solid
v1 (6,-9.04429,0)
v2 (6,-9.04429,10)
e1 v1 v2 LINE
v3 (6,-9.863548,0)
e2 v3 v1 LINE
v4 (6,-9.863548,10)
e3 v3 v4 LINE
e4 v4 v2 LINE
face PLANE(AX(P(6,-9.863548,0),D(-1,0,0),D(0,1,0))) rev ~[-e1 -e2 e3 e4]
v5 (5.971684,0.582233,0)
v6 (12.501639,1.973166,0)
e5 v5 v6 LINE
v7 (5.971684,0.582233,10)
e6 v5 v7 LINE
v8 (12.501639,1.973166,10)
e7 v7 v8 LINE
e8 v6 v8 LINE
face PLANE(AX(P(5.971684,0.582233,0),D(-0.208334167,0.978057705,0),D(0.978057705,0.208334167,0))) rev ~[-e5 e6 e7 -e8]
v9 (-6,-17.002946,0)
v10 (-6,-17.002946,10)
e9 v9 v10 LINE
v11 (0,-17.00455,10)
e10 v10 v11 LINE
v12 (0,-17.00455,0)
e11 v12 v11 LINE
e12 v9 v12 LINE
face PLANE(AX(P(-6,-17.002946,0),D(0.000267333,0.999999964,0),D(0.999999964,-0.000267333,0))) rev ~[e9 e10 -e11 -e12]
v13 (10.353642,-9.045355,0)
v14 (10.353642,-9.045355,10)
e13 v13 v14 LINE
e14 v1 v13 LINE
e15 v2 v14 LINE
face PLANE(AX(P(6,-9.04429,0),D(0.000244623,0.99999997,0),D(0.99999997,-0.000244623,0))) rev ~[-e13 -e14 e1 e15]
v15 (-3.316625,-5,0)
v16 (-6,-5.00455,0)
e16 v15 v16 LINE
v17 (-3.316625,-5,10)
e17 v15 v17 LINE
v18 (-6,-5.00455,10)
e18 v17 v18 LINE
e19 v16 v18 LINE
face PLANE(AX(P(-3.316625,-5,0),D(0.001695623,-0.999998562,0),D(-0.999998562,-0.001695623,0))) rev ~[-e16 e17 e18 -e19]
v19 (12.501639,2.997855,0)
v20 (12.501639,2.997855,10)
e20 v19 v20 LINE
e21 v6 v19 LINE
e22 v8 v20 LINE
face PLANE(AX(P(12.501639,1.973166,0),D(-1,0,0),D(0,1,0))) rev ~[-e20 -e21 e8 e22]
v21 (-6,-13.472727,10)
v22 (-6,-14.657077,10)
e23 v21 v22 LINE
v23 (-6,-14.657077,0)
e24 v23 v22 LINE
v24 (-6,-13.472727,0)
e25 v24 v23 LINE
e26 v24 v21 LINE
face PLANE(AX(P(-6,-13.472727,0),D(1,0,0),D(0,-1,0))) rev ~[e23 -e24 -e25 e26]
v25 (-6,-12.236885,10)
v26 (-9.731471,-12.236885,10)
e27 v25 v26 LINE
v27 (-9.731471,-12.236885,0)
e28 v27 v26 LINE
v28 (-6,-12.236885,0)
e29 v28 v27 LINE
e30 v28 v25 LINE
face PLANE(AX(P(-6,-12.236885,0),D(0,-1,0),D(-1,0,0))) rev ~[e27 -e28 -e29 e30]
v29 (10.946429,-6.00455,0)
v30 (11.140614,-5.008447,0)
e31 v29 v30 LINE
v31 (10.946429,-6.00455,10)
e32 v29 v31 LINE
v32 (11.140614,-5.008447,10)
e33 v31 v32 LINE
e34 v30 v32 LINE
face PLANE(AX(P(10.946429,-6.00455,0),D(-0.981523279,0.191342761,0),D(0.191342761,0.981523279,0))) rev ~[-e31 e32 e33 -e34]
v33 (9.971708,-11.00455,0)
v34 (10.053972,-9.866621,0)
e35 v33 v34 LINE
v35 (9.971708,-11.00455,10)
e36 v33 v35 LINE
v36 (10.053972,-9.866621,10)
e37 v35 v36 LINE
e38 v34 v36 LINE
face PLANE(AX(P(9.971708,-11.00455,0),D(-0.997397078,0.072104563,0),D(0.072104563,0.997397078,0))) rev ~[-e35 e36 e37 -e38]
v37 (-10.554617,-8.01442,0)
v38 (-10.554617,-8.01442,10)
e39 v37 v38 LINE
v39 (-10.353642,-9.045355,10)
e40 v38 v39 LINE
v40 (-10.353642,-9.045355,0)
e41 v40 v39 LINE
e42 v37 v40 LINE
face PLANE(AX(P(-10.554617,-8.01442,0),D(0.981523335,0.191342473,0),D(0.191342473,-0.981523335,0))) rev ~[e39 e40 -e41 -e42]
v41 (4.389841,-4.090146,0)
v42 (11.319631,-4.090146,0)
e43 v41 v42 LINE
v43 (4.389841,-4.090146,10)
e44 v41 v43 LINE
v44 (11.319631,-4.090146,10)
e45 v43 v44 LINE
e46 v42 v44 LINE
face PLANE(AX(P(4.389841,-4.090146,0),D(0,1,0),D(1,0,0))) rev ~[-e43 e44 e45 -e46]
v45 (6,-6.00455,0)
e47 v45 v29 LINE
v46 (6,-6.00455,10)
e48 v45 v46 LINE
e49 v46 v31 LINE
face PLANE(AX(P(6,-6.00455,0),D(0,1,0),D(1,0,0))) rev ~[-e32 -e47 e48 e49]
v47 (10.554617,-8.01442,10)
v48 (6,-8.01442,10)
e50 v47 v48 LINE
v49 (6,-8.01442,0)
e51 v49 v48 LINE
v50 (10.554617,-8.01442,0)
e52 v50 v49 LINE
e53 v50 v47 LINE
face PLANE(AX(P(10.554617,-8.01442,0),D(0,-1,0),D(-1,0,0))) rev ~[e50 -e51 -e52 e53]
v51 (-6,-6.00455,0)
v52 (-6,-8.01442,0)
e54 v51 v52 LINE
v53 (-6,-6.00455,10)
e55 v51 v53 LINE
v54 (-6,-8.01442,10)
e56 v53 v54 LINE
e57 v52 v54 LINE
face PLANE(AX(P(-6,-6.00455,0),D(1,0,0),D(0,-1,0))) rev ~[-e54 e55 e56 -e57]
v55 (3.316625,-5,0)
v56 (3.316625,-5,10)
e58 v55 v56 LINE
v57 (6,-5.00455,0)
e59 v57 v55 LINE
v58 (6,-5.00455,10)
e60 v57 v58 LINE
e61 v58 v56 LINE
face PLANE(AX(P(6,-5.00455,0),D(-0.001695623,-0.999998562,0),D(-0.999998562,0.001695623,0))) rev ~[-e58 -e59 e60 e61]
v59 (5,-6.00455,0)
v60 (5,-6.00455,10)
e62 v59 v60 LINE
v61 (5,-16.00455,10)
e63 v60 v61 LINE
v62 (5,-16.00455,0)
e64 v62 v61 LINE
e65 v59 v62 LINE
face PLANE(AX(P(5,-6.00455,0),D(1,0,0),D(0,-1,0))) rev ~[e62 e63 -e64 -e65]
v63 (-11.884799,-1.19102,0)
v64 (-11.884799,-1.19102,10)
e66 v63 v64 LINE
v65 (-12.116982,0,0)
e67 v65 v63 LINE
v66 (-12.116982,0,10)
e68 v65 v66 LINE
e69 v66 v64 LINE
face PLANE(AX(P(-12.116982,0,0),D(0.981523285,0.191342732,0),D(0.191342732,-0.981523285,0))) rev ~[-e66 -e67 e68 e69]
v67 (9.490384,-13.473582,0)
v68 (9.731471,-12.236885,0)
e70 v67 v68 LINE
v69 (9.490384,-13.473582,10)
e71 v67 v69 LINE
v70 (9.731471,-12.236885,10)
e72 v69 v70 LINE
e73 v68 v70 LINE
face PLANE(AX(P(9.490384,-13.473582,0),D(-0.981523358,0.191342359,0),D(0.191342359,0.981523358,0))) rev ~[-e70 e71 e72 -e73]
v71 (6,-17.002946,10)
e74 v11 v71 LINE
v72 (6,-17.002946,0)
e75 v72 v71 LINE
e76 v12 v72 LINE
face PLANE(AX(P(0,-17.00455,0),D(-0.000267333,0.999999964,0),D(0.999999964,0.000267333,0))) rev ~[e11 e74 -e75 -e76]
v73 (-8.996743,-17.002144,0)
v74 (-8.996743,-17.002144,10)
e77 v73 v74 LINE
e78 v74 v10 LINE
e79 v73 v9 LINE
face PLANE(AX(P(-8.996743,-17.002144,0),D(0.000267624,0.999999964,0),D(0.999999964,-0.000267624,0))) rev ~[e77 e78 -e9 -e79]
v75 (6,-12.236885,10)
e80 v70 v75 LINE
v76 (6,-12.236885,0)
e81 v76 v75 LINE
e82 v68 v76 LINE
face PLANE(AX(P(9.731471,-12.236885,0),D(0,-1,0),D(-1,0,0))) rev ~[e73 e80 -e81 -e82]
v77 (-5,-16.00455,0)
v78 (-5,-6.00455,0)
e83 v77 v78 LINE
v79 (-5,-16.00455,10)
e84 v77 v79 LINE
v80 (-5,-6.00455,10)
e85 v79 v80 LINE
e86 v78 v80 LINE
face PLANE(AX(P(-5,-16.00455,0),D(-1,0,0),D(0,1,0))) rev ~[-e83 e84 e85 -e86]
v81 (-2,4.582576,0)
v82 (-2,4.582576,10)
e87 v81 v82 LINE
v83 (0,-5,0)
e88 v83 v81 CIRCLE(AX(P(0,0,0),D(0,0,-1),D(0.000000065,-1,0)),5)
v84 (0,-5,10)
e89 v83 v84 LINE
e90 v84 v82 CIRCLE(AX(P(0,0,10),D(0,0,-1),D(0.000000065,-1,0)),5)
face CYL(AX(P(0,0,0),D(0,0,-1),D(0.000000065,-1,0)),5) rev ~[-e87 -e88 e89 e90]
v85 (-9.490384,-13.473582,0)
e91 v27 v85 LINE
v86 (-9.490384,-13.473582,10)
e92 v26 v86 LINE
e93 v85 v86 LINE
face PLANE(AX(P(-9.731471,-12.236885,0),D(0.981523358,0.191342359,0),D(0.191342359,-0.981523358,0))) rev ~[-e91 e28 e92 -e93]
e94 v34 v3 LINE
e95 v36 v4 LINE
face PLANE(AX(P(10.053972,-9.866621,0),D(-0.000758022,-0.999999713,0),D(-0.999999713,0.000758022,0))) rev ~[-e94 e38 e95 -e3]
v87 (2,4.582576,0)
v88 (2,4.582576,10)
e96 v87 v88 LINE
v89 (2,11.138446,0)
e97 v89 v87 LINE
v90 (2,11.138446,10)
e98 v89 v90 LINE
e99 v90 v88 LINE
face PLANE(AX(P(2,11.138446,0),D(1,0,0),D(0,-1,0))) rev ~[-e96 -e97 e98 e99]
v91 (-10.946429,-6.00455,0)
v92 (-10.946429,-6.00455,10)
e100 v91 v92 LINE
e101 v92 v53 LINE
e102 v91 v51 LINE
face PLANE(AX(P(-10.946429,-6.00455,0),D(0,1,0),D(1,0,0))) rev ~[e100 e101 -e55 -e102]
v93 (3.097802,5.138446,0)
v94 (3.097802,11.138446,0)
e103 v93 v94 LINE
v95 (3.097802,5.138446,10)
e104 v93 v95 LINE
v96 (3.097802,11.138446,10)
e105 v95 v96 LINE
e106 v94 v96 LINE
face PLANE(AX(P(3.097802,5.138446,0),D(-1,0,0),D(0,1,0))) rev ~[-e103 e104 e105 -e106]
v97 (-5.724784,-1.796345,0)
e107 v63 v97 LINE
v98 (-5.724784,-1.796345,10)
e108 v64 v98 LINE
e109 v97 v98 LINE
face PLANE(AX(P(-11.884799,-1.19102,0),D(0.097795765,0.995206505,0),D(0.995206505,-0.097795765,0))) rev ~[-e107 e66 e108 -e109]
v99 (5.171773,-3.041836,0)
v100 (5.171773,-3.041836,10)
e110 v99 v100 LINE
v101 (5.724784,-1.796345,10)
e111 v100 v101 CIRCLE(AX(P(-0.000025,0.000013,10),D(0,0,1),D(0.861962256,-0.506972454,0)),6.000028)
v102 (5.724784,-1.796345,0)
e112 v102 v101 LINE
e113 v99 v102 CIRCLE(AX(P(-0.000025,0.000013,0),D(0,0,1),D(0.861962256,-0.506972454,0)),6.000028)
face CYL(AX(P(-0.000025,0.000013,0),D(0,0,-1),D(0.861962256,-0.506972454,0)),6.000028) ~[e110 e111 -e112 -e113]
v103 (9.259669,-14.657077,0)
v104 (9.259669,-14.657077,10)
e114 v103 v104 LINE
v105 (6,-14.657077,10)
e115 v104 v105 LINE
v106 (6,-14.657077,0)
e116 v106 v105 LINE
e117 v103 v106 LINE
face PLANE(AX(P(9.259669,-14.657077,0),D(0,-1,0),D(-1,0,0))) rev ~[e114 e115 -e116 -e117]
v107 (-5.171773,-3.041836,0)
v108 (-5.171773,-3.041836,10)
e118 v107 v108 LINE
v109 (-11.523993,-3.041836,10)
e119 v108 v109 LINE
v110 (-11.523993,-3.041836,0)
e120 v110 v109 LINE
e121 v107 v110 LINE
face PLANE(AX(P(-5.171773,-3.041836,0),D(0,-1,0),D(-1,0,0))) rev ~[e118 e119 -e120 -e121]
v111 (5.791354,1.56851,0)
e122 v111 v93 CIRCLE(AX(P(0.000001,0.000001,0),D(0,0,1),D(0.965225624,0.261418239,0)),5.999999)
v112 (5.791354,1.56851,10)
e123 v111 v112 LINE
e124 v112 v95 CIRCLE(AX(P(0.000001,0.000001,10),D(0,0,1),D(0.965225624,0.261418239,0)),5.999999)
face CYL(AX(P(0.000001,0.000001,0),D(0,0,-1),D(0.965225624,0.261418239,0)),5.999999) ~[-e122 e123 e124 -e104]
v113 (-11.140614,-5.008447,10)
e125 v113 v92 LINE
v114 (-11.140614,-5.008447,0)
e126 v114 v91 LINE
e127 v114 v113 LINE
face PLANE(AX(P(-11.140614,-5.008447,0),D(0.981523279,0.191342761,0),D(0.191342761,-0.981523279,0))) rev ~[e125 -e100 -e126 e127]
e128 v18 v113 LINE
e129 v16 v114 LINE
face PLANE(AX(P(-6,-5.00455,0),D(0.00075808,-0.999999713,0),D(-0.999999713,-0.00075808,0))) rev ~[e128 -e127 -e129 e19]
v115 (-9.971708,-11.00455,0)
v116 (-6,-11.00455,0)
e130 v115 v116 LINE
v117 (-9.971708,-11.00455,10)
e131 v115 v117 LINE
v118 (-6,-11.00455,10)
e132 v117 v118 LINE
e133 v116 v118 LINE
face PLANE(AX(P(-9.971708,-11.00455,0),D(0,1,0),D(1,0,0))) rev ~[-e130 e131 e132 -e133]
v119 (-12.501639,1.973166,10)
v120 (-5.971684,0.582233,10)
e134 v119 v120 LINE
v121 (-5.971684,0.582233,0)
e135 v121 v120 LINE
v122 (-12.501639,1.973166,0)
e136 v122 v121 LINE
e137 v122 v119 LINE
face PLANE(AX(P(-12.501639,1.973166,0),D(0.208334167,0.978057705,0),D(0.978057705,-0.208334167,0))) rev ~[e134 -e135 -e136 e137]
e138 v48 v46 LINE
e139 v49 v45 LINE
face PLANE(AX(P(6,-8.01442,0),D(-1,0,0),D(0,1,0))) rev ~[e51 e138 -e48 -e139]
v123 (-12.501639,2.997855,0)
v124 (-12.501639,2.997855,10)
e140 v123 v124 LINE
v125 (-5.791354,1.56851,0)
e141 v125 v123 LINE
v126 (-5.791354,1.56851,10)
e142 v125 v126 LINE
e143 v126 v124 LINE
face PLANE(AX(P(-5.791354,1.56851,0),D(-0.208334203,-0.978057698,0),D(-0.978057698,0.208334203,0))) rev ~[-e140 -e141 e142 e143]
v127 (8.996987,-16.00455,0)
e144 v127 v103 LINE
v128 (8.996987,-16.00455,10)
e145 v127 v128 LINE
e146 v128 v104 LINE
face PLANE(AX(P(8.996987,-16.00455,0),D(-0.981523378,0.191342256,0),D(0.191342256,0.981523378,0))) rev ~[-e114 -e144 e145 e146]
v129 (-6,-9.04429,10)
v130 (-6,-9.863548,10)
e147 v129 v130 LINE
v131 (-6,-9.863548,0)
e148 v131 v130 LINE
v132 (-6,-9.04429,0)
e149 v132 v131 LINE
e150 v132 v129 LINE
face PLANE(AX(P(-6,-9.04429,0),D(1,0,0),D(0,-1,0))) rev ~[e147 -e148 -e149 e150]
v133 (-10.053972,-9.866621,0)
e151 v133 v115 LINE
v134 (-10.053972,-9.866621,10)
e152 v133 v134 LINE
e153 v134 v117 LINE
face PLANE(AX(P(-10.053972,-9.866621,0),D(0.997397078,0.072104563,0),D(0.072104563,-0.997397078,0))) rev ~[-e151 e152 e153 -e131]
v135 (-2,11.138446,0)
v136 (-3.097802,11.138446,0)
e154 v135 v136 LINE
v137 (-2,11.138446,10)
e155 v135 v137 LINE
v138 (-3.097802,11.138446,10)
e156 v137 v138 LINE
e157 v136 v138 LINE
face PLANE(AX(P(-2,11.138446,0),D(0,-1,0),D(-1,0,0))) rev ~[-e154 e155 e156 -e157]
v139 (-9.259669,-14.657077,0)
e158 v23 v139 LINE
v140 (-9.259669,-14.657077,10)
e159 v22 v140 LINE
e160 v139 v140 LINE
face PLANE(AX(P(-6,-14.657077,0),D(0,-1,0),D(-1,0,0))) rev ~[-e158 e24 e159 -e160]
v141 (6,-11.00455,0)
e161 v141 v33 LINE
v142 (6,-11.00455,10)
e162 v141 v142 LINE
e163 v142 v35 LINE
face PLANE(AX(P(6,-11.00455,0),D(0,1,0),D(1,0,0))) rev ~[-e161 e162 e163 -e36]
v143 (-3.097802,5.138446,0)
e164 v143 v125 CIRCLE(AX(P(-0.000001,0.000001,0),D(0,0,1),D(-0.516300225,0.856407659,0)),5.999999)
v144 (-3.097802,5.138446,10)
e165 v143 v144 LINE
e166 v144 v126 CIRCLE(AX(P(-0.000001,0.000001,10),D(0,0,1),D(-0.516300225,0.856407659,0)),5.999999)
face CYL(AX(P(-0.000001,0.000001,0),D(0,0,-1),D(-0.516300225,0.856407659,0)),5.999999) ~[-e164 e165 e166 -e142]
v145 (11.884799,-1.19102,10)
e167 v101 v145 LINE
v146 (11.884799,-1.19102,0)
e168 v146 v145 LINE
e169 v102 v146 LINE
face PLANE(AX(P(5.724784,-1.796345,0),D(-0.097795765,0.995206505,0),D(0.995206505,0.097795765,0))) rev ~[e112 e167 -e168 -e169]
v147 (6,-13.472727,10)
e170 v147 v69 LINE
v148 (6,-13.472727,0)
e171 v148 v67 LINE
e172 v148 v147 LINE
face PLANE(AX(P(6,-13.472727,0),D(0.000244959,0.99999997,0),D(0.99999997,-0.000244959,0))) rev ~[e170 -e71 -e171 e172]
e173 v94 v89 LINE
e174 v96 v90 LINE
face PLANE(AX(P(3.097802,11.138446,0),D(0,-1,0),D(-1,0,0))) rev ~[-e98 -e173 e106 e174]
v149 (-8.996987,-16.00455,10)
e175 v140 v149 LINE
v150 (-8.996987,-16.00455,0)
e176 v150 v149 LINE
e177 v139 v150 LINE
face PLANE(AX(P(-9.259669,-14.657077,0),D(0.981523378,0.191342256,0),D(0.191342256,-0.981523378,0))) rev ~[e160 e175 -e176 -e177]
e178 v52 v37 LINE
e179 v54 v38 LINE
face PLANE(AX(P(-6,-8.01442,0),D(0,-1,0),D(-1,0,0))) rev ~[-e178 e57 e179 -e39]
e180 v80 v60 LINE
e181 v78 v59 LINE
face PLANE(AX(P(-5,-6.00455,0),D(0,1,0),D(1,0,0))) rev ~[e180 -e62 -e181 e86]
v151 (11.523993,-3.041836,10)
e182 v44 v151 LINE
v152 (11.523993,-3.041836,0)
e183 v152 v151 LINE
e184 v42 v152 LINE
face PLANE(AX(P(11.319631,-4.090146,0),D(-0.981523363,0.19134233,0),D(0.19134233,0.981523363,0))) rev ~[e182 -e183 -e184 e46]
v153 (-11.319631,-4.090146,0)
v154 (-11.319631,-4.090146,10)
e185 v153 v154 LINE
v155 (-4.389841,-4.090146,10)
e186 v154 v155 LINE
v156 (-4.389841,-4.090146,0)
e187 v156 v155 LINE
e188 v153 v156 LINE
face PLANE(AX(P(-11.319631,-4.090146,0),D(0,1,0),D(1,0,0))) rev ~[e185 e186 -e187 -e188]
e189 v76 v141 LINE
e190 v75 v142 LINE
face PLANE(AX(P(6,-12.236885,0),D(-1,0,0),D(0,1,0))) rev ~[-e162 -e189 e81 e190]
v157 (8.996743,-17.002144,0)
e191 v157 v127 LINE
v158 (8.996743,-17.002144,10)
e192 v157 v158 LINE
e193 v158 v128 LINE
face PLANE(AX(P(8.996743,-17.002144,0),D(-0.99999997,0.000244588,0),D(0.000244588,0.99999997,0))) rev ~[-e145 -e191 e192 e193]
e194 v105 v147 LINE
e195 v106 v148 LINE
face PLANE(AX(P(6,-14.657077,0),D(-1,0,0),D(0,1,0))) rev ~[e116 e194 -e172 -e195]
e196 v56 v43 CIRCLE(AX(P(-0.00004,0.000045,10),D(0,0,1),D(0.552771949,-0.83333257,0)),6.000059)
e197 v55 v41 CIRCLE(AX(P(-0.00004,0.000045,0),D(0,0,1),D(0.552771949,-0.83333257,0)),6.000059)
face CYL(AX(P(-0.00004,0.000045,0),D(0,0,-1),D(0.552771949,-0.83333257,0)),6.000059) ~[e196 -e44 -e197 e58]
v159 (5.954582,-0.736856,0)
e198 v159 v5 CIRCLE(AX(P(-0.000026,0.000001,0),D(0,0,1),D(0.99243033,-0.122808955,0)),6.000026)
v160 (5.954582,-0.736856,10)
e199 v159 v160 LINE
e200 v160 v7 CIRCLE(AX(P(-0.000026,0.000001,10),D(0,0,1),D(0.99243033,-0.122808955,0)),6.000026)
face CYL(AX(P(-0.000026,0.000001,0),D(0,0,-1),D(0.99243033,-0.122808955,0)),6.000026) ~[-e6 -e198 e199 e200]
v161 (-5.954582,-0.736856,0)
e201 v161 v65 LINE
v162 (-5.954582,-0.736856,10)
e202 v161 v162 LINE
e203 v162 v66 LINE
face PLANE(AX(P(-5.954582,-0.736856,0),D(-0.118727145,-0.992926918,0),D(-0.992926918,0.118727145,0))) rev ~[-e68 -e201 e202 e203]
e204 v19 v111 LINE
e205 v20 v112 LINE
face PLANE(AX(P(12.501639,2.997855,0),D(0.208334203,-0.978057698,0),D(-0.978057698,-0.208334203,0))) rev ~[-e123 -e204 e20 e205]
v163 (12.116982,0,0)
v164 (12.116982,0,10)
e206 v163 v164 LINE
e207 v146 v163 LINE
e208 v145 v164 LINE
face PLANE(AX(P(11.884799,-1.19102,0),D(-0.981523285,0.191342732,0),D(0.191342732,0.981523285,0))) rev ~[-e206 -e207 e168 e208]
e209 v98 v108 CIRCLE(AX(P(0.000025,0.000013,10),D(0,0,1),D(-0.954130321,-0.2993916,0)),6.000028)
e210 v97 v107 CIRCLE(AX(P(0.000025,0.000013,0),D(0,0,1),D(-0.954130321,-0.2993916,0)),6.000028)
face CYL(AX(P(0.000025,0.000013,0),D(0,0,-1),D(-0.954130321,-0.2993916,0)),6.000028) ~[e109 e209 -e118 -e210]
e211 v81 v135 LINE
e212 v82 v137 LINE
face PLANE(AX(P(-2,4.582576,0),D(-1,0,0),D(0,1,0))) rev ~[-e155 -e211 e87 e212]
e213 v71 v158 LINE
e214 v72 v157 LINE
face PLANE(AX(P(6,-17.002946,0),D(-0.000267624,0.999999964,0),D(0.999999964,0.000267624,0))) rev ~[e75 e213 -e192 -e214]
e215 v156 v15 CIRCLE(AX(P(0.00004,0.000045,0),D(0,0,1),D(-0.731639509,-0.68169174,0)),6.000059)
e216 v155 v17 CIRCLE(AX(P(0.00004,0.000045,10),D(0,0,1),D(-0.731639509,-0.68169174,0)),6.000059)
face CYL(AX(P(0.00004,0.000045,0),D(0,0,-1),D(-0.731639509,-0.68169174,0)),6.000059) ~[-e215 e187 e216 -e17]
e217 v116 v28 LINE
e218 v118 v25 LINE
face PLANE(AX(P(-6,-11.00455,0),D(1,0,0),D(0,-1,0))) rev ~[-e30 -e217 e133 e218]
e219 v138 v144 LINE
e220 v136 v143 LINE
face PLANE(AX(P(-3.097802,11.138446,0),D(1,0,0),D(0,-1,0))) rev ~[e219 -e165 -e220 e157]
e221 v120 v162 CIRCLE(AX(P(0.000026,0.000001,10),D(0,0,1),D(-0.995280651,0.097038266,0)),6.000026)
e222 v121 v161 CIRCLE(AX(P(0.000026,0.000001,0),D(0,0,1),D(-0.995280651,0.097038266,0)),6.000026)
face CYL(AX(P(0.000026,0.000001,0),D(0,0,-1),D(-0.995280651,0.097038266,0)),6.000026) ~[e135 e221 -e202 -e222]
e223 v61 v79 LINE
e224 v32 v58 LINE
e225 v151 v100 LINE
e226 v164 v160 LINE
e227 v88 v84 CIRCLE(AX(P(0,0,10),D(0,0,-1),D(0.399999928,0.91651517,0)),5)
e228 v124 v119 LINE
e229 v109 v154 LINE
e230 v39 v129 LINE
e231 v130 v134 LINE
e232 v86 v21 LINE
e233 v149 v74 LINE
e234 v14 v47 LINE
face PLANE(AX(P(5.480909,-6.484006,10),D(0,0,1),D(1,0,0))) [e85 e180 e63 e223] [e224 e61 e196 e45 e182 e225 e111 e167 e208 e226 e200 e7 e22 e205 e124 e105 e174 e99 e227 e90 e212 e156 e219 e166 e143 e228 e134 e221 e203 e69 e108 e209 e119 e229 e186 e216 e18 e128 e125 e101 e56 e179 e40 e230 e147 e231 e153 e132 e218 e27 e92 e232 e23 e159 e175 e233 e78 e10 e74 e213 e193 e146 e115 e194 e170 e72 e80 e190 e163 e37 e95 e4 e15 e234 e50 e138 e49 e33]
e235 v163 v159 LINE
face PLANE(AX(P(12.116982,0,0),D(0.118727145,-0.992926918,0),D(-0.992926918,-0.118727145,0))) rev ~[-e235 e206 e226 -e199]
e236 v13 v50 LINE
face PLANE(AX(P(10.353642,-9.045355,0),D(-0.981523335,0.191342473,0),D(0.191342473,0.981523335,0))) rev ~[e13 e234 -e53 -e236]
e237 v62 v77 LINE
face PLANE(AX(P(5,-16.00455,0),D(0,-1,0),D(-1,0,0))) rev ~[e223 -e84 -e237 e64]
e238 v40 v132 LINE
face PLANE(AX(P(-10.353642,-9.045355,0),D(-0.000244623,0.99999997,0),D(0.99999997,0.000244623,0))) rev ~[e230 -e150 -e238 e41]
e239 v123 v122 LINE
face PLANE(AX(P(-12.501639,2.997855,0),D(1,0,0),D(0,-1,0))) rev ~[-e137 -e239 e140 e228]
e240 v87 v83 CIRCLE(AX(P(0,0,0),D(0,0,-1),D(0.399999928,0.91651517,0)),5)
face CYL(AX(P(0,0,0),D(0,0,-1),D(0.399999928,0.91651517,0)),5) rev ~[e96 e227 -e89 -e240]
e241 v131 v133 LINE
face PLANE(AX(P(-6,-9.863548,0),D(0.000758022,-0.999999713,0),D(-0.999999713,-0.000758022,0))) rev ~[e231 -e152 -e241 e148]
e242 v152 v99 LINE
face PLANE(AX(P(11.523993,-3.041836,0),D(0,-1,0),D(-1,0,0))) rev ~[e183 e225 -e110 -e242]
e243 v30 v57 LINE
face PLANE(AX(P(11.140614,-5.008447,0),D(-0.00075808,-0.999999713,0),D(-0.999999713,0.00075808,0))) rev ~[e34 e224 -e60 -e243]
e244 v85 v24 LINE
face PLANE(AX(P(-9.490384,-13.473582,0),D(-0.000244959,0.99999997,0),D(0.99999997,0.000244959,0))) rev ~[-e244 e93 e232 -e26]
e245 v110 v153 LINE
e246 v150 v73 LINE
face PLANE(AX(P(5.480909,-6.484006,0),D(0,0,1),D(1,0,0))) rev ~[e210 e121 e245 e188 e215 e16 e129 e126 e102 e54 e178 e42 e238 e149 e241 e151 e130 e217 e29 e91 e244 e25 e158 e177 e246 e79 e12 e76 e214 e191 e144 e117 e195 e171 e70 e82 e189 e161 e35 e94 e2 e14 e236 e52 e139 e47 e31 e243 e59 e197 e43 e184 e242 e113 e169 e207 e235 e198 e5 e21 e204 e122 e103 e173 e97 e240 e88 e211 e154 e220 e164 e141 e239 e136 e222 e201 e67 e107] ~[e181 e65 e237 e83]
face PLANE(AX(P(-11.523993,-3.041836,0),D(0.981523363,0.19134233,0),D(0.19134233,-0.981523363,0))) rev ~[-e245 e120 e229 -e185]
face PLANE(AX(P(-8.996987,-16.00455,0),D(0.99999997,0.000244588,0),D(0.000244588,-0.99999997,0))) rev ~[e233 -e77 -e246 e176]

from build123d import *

# Parameters (mm, degrees)
F1_DEPTH = 10


with BuildPart() as f1:
    # F0 (on Top) → F1 (new body)
    with BuildSketch(Plane.XY):
        with BuildLine():
            ThreePointArc((2, 4.582576), (4.894532, -1.021548), (0, -5))
            Line((0, -5), (0, -6.00455))
            Line((0, -6.00455), (5, -6.00455))
            Line((5, -6.00455), (5, -16.00455))
            Line((5, -16.00455), (0, -16.00455))
            Line((0, -16.00455), (0, -17.00455))
            Line((0, -17.00455), (6, -17.002946))
            Line((6, -17.002946), (8.996743, -17.002144))
            Line((8.996743, -17.002144), (8.996987, -16.00455))
            Line((8.996987, -16.00455), (9.259669, -14.657077))
            Line((9.259669, -14.657077), (6, -14.657077))
            Line((6, -14.657077), (6, -13.472727))
            Line((6, -13.472727), (9.490384, -13.473582))
            Line((9.490384, -13.473582), (9.731471, -12.236885))
            Line((9.731471, -12.236885), (6, -12.236885))
            Line((6, -12.236885), (6, -11.00455))
            Line((6, -11.00455), (9.971708, -11.00455))
            Line((9.971708, -11.00455), (10.053972, -9.866621))
            Line((10.053972, -9.866621), (6, -9.863548))
            Line((6, -9.863548), (6, -9.04429))
            Line((6, -9.04429), (10.353642, -9.045355))
            Line((10.353642, -9.045355), (10.554617, -8.01442))
            Line((10.554617, -8.01442), (6, -8.01442))
            Line((6, -8.01442), (6, -6.00455))
            Line((6, -6.00455), (10.946429, -6.00455))
            Line((10.946429, -6.00455), (11.140614, -5.008447))
            Line((11.140614, -5.008447), (6, -5.00455))
            Line((6, -5.00455), (3.316625, -5))
            ThreePointArc((3.316625, -5), (3.879995, -4.57664), (4.389841, -4.090146))
            ThreePointArc((4.389841, -4.090146), (4.809454, -3.587359), (5.171773, -3.041836))
            ThreePointArc((5.171773, -3.041836), (5.483753, -2.434842), (5.724784, -1.796345))
            ThreePointArc((5.724784, -1.796345), (5.863661, -1.271801), (5.954582, -0.736856))
            ThreePointArc((5.954582, -0.736856), (5.999496, -0.077783), (5.971684, 0.582233))
            ThreePointArc((5.971684, 0.582233), (5.902156, 1.079145), (5.791354, 1.56851))
            ThreePointArc((5.791354, 1.56851), (4.789612, 3.61381), (3.097802, 5.138446))
            Line((3.097802, 5.138446), (3.097802, 11.138446))
            Line((3.097802, 11.138446), (2, 11.138446))
            Line((2, 11.138446), (2, 4.582576))
        make_face()
        with BuildLine():
            Line((12.501639, 2.997855), (5.791354, 1.56851))
            ThreePointArc((5.791354, 1.56851), (5.902156, 1.079145), (5.971684, 0.582233))
            Line((5.971684, 0.582233), (12.501639, 1.973166))
            Line((12.501639, 1.973166), (12.501639, 2.997855))
        make_face()
        with BuildLine():
            Line((12.116982, 0), (5.954582, -0.736856))
            ThreePointArc((5.954582, -0.736856), (5.863661, -1.271801), (5.724784, -1.796345))
            Line((5.724784, -1.796345), (11.884799, -1.19102))
            Line((11.884799, -1.19102), (12.116982, 0))
        make_face()
        with BuildLine():
            Line((11.523993, -3.041836), (5.171773, -3.041836))
            ThreePointArc((5.171773, -3.041836), (4.809454, -3.587359), (4.389841, -4.090146))
            Line((4.389841, -4.090146), (11.319631, -4.090146))
            Line((11.319631, -4.090146), (11.523993, -3.041836))
        make_face()
        with BuildLine():
            Line((0, -6.00455), (0, -5))
            ThreePointArc((0, -5), (-4.894532, -1.021548), (-2, 4.582576))
            Line((-2, 4.582576), (-2, 11.138446))
            Line((-2, 11.138446), (-3.097802, 11.138446))
            Line((-3.097802, 11.138446), (-3.097802, 5.138446))
            ThreePointArc((-3.097802, 5.138446), (-4.789612, 3.61381), (-5.791354, 1.56851))
            ThreePointArc((-5.791354, 1.56851), (-5.902156, 1.079145), (-5.971684, 0.582233))
            ThreePointArc((-5.971684, 0.582233), (-5.999496, -0.077783), (-5.954582, -0.736856))
            ThreePointArc((-5.954582, -0.736856), (-5.863661, -1.271801), (-5.724784, -1.796345))
            ThreePointArc((-5.724784, -1.796345), (-5.483753, -2.434842), (-5.171773, -3.041836))
            ThreePointArc((-5.171773, -3.041836), (-4.809454, -3.587359), (-4.389841, -4.090146))
            ThreePointArc((-4.389841, -4.090146), (-3.879995, -4.57664), (-3.316625, -5))
            Line((-3.316625, -5), (-6, -5.00455))
            Line((-6, -5.00455), (-11.140614, -5.008447))
            Line((-11.140614, -5.008447), (-10.946429, -6.00455))
            Line((-10.946429, -6.00455), (-6, -6.00455))
            Line((-6, -6.00455), (-6, -8.01442))
            Line((-6, -8.01442), (-10.554617, -8.01442))
            Line((-10.554617, -8.01442), (-10.353642, -9.045355))
            Line((-10.353642, -9.045355), (-6, -9.04429))
            Line((-6, -9.04429), (-6, -9.863548))
            Line((-6, -9.863548), (-10.053972, -9.866621))
            Line((-10.053972, -9.866621), (-9.971708, -11.00455))
            Line((-9.971708, -11.00455), (-6, -11.00455))
            Line((-6, -11.00455), (-6, -12.236885))
            Line((-6, -12.236885), (-9.731471, -12.236885))
            Line((-9.731471, -12.236885), (-9.490384, -13.473582))
            Line((-9.490384, -13.473582), (-6, -13.472727))
            Line((-6, -13.472727), (-6, -14.657077))
            Line((-6, -14.657077), (-9.259669, -14.657077))
            Line((-9.259669, -14.657077), (-8.996987, -16.00455))
            Line((-8.996987, -16.00455), (-8.996743, -17.002144))
            Line((-8.996743, -17.002144), (-6, -17.002946))
            Line((-6, -17.002946), (0, -17.00455))
            Line((0, -17.00455), (0, -16.00455))
            Line((0, -16.00455), (-5, -16.00455))
            Line((-5, -16.00455), (-5, -6.00455))
            Line((-5, -6.00455), (0, -6.00455))
        make_face()
        with BuildLine():
            ThreePointArc((-5.971684, 0.582233), (-5.902156, 1.079145), (-5.791354, 1.56851))
            Line((-5.791354, 1.56851), (-12.501639, 2.997855))
            Line((-12.501639, 2.997855), (-12.501639, 1.973166))
            Line((-12.501639, 1.973166), (-5.971684, 0.582233))
        make_face()
        with BuildLine():
            ThreePointArc((-5.724784, -1.796345), (-5.863661, -1.271801), (-5.954582, -0.736856))
            Line((-5.954582, -0.736856), (-12.116982, 0))
            Line((-12.116982, 0), (-11.884799, -1.19102))
            Line((-11.884799, -1.19102), (-5.724784, -1.796345))
        make_face()
        with BuildLine():
            ThreePointArc((-4.389841, -4.090146), (-4.809454, -3.587359), (-5.171773, -3.041836))
            Line((-5.171773, -3.041836), (-11.523993, -3.041836))
            Line((-11.523993, -3.041836), (-11.319631, -4.090146))
            Line((-11.319631, -4.090146), (-4.389841, -4.090146))
        make_face()
    extrude(amount=F1_DEPTH)


solid = f1.part
